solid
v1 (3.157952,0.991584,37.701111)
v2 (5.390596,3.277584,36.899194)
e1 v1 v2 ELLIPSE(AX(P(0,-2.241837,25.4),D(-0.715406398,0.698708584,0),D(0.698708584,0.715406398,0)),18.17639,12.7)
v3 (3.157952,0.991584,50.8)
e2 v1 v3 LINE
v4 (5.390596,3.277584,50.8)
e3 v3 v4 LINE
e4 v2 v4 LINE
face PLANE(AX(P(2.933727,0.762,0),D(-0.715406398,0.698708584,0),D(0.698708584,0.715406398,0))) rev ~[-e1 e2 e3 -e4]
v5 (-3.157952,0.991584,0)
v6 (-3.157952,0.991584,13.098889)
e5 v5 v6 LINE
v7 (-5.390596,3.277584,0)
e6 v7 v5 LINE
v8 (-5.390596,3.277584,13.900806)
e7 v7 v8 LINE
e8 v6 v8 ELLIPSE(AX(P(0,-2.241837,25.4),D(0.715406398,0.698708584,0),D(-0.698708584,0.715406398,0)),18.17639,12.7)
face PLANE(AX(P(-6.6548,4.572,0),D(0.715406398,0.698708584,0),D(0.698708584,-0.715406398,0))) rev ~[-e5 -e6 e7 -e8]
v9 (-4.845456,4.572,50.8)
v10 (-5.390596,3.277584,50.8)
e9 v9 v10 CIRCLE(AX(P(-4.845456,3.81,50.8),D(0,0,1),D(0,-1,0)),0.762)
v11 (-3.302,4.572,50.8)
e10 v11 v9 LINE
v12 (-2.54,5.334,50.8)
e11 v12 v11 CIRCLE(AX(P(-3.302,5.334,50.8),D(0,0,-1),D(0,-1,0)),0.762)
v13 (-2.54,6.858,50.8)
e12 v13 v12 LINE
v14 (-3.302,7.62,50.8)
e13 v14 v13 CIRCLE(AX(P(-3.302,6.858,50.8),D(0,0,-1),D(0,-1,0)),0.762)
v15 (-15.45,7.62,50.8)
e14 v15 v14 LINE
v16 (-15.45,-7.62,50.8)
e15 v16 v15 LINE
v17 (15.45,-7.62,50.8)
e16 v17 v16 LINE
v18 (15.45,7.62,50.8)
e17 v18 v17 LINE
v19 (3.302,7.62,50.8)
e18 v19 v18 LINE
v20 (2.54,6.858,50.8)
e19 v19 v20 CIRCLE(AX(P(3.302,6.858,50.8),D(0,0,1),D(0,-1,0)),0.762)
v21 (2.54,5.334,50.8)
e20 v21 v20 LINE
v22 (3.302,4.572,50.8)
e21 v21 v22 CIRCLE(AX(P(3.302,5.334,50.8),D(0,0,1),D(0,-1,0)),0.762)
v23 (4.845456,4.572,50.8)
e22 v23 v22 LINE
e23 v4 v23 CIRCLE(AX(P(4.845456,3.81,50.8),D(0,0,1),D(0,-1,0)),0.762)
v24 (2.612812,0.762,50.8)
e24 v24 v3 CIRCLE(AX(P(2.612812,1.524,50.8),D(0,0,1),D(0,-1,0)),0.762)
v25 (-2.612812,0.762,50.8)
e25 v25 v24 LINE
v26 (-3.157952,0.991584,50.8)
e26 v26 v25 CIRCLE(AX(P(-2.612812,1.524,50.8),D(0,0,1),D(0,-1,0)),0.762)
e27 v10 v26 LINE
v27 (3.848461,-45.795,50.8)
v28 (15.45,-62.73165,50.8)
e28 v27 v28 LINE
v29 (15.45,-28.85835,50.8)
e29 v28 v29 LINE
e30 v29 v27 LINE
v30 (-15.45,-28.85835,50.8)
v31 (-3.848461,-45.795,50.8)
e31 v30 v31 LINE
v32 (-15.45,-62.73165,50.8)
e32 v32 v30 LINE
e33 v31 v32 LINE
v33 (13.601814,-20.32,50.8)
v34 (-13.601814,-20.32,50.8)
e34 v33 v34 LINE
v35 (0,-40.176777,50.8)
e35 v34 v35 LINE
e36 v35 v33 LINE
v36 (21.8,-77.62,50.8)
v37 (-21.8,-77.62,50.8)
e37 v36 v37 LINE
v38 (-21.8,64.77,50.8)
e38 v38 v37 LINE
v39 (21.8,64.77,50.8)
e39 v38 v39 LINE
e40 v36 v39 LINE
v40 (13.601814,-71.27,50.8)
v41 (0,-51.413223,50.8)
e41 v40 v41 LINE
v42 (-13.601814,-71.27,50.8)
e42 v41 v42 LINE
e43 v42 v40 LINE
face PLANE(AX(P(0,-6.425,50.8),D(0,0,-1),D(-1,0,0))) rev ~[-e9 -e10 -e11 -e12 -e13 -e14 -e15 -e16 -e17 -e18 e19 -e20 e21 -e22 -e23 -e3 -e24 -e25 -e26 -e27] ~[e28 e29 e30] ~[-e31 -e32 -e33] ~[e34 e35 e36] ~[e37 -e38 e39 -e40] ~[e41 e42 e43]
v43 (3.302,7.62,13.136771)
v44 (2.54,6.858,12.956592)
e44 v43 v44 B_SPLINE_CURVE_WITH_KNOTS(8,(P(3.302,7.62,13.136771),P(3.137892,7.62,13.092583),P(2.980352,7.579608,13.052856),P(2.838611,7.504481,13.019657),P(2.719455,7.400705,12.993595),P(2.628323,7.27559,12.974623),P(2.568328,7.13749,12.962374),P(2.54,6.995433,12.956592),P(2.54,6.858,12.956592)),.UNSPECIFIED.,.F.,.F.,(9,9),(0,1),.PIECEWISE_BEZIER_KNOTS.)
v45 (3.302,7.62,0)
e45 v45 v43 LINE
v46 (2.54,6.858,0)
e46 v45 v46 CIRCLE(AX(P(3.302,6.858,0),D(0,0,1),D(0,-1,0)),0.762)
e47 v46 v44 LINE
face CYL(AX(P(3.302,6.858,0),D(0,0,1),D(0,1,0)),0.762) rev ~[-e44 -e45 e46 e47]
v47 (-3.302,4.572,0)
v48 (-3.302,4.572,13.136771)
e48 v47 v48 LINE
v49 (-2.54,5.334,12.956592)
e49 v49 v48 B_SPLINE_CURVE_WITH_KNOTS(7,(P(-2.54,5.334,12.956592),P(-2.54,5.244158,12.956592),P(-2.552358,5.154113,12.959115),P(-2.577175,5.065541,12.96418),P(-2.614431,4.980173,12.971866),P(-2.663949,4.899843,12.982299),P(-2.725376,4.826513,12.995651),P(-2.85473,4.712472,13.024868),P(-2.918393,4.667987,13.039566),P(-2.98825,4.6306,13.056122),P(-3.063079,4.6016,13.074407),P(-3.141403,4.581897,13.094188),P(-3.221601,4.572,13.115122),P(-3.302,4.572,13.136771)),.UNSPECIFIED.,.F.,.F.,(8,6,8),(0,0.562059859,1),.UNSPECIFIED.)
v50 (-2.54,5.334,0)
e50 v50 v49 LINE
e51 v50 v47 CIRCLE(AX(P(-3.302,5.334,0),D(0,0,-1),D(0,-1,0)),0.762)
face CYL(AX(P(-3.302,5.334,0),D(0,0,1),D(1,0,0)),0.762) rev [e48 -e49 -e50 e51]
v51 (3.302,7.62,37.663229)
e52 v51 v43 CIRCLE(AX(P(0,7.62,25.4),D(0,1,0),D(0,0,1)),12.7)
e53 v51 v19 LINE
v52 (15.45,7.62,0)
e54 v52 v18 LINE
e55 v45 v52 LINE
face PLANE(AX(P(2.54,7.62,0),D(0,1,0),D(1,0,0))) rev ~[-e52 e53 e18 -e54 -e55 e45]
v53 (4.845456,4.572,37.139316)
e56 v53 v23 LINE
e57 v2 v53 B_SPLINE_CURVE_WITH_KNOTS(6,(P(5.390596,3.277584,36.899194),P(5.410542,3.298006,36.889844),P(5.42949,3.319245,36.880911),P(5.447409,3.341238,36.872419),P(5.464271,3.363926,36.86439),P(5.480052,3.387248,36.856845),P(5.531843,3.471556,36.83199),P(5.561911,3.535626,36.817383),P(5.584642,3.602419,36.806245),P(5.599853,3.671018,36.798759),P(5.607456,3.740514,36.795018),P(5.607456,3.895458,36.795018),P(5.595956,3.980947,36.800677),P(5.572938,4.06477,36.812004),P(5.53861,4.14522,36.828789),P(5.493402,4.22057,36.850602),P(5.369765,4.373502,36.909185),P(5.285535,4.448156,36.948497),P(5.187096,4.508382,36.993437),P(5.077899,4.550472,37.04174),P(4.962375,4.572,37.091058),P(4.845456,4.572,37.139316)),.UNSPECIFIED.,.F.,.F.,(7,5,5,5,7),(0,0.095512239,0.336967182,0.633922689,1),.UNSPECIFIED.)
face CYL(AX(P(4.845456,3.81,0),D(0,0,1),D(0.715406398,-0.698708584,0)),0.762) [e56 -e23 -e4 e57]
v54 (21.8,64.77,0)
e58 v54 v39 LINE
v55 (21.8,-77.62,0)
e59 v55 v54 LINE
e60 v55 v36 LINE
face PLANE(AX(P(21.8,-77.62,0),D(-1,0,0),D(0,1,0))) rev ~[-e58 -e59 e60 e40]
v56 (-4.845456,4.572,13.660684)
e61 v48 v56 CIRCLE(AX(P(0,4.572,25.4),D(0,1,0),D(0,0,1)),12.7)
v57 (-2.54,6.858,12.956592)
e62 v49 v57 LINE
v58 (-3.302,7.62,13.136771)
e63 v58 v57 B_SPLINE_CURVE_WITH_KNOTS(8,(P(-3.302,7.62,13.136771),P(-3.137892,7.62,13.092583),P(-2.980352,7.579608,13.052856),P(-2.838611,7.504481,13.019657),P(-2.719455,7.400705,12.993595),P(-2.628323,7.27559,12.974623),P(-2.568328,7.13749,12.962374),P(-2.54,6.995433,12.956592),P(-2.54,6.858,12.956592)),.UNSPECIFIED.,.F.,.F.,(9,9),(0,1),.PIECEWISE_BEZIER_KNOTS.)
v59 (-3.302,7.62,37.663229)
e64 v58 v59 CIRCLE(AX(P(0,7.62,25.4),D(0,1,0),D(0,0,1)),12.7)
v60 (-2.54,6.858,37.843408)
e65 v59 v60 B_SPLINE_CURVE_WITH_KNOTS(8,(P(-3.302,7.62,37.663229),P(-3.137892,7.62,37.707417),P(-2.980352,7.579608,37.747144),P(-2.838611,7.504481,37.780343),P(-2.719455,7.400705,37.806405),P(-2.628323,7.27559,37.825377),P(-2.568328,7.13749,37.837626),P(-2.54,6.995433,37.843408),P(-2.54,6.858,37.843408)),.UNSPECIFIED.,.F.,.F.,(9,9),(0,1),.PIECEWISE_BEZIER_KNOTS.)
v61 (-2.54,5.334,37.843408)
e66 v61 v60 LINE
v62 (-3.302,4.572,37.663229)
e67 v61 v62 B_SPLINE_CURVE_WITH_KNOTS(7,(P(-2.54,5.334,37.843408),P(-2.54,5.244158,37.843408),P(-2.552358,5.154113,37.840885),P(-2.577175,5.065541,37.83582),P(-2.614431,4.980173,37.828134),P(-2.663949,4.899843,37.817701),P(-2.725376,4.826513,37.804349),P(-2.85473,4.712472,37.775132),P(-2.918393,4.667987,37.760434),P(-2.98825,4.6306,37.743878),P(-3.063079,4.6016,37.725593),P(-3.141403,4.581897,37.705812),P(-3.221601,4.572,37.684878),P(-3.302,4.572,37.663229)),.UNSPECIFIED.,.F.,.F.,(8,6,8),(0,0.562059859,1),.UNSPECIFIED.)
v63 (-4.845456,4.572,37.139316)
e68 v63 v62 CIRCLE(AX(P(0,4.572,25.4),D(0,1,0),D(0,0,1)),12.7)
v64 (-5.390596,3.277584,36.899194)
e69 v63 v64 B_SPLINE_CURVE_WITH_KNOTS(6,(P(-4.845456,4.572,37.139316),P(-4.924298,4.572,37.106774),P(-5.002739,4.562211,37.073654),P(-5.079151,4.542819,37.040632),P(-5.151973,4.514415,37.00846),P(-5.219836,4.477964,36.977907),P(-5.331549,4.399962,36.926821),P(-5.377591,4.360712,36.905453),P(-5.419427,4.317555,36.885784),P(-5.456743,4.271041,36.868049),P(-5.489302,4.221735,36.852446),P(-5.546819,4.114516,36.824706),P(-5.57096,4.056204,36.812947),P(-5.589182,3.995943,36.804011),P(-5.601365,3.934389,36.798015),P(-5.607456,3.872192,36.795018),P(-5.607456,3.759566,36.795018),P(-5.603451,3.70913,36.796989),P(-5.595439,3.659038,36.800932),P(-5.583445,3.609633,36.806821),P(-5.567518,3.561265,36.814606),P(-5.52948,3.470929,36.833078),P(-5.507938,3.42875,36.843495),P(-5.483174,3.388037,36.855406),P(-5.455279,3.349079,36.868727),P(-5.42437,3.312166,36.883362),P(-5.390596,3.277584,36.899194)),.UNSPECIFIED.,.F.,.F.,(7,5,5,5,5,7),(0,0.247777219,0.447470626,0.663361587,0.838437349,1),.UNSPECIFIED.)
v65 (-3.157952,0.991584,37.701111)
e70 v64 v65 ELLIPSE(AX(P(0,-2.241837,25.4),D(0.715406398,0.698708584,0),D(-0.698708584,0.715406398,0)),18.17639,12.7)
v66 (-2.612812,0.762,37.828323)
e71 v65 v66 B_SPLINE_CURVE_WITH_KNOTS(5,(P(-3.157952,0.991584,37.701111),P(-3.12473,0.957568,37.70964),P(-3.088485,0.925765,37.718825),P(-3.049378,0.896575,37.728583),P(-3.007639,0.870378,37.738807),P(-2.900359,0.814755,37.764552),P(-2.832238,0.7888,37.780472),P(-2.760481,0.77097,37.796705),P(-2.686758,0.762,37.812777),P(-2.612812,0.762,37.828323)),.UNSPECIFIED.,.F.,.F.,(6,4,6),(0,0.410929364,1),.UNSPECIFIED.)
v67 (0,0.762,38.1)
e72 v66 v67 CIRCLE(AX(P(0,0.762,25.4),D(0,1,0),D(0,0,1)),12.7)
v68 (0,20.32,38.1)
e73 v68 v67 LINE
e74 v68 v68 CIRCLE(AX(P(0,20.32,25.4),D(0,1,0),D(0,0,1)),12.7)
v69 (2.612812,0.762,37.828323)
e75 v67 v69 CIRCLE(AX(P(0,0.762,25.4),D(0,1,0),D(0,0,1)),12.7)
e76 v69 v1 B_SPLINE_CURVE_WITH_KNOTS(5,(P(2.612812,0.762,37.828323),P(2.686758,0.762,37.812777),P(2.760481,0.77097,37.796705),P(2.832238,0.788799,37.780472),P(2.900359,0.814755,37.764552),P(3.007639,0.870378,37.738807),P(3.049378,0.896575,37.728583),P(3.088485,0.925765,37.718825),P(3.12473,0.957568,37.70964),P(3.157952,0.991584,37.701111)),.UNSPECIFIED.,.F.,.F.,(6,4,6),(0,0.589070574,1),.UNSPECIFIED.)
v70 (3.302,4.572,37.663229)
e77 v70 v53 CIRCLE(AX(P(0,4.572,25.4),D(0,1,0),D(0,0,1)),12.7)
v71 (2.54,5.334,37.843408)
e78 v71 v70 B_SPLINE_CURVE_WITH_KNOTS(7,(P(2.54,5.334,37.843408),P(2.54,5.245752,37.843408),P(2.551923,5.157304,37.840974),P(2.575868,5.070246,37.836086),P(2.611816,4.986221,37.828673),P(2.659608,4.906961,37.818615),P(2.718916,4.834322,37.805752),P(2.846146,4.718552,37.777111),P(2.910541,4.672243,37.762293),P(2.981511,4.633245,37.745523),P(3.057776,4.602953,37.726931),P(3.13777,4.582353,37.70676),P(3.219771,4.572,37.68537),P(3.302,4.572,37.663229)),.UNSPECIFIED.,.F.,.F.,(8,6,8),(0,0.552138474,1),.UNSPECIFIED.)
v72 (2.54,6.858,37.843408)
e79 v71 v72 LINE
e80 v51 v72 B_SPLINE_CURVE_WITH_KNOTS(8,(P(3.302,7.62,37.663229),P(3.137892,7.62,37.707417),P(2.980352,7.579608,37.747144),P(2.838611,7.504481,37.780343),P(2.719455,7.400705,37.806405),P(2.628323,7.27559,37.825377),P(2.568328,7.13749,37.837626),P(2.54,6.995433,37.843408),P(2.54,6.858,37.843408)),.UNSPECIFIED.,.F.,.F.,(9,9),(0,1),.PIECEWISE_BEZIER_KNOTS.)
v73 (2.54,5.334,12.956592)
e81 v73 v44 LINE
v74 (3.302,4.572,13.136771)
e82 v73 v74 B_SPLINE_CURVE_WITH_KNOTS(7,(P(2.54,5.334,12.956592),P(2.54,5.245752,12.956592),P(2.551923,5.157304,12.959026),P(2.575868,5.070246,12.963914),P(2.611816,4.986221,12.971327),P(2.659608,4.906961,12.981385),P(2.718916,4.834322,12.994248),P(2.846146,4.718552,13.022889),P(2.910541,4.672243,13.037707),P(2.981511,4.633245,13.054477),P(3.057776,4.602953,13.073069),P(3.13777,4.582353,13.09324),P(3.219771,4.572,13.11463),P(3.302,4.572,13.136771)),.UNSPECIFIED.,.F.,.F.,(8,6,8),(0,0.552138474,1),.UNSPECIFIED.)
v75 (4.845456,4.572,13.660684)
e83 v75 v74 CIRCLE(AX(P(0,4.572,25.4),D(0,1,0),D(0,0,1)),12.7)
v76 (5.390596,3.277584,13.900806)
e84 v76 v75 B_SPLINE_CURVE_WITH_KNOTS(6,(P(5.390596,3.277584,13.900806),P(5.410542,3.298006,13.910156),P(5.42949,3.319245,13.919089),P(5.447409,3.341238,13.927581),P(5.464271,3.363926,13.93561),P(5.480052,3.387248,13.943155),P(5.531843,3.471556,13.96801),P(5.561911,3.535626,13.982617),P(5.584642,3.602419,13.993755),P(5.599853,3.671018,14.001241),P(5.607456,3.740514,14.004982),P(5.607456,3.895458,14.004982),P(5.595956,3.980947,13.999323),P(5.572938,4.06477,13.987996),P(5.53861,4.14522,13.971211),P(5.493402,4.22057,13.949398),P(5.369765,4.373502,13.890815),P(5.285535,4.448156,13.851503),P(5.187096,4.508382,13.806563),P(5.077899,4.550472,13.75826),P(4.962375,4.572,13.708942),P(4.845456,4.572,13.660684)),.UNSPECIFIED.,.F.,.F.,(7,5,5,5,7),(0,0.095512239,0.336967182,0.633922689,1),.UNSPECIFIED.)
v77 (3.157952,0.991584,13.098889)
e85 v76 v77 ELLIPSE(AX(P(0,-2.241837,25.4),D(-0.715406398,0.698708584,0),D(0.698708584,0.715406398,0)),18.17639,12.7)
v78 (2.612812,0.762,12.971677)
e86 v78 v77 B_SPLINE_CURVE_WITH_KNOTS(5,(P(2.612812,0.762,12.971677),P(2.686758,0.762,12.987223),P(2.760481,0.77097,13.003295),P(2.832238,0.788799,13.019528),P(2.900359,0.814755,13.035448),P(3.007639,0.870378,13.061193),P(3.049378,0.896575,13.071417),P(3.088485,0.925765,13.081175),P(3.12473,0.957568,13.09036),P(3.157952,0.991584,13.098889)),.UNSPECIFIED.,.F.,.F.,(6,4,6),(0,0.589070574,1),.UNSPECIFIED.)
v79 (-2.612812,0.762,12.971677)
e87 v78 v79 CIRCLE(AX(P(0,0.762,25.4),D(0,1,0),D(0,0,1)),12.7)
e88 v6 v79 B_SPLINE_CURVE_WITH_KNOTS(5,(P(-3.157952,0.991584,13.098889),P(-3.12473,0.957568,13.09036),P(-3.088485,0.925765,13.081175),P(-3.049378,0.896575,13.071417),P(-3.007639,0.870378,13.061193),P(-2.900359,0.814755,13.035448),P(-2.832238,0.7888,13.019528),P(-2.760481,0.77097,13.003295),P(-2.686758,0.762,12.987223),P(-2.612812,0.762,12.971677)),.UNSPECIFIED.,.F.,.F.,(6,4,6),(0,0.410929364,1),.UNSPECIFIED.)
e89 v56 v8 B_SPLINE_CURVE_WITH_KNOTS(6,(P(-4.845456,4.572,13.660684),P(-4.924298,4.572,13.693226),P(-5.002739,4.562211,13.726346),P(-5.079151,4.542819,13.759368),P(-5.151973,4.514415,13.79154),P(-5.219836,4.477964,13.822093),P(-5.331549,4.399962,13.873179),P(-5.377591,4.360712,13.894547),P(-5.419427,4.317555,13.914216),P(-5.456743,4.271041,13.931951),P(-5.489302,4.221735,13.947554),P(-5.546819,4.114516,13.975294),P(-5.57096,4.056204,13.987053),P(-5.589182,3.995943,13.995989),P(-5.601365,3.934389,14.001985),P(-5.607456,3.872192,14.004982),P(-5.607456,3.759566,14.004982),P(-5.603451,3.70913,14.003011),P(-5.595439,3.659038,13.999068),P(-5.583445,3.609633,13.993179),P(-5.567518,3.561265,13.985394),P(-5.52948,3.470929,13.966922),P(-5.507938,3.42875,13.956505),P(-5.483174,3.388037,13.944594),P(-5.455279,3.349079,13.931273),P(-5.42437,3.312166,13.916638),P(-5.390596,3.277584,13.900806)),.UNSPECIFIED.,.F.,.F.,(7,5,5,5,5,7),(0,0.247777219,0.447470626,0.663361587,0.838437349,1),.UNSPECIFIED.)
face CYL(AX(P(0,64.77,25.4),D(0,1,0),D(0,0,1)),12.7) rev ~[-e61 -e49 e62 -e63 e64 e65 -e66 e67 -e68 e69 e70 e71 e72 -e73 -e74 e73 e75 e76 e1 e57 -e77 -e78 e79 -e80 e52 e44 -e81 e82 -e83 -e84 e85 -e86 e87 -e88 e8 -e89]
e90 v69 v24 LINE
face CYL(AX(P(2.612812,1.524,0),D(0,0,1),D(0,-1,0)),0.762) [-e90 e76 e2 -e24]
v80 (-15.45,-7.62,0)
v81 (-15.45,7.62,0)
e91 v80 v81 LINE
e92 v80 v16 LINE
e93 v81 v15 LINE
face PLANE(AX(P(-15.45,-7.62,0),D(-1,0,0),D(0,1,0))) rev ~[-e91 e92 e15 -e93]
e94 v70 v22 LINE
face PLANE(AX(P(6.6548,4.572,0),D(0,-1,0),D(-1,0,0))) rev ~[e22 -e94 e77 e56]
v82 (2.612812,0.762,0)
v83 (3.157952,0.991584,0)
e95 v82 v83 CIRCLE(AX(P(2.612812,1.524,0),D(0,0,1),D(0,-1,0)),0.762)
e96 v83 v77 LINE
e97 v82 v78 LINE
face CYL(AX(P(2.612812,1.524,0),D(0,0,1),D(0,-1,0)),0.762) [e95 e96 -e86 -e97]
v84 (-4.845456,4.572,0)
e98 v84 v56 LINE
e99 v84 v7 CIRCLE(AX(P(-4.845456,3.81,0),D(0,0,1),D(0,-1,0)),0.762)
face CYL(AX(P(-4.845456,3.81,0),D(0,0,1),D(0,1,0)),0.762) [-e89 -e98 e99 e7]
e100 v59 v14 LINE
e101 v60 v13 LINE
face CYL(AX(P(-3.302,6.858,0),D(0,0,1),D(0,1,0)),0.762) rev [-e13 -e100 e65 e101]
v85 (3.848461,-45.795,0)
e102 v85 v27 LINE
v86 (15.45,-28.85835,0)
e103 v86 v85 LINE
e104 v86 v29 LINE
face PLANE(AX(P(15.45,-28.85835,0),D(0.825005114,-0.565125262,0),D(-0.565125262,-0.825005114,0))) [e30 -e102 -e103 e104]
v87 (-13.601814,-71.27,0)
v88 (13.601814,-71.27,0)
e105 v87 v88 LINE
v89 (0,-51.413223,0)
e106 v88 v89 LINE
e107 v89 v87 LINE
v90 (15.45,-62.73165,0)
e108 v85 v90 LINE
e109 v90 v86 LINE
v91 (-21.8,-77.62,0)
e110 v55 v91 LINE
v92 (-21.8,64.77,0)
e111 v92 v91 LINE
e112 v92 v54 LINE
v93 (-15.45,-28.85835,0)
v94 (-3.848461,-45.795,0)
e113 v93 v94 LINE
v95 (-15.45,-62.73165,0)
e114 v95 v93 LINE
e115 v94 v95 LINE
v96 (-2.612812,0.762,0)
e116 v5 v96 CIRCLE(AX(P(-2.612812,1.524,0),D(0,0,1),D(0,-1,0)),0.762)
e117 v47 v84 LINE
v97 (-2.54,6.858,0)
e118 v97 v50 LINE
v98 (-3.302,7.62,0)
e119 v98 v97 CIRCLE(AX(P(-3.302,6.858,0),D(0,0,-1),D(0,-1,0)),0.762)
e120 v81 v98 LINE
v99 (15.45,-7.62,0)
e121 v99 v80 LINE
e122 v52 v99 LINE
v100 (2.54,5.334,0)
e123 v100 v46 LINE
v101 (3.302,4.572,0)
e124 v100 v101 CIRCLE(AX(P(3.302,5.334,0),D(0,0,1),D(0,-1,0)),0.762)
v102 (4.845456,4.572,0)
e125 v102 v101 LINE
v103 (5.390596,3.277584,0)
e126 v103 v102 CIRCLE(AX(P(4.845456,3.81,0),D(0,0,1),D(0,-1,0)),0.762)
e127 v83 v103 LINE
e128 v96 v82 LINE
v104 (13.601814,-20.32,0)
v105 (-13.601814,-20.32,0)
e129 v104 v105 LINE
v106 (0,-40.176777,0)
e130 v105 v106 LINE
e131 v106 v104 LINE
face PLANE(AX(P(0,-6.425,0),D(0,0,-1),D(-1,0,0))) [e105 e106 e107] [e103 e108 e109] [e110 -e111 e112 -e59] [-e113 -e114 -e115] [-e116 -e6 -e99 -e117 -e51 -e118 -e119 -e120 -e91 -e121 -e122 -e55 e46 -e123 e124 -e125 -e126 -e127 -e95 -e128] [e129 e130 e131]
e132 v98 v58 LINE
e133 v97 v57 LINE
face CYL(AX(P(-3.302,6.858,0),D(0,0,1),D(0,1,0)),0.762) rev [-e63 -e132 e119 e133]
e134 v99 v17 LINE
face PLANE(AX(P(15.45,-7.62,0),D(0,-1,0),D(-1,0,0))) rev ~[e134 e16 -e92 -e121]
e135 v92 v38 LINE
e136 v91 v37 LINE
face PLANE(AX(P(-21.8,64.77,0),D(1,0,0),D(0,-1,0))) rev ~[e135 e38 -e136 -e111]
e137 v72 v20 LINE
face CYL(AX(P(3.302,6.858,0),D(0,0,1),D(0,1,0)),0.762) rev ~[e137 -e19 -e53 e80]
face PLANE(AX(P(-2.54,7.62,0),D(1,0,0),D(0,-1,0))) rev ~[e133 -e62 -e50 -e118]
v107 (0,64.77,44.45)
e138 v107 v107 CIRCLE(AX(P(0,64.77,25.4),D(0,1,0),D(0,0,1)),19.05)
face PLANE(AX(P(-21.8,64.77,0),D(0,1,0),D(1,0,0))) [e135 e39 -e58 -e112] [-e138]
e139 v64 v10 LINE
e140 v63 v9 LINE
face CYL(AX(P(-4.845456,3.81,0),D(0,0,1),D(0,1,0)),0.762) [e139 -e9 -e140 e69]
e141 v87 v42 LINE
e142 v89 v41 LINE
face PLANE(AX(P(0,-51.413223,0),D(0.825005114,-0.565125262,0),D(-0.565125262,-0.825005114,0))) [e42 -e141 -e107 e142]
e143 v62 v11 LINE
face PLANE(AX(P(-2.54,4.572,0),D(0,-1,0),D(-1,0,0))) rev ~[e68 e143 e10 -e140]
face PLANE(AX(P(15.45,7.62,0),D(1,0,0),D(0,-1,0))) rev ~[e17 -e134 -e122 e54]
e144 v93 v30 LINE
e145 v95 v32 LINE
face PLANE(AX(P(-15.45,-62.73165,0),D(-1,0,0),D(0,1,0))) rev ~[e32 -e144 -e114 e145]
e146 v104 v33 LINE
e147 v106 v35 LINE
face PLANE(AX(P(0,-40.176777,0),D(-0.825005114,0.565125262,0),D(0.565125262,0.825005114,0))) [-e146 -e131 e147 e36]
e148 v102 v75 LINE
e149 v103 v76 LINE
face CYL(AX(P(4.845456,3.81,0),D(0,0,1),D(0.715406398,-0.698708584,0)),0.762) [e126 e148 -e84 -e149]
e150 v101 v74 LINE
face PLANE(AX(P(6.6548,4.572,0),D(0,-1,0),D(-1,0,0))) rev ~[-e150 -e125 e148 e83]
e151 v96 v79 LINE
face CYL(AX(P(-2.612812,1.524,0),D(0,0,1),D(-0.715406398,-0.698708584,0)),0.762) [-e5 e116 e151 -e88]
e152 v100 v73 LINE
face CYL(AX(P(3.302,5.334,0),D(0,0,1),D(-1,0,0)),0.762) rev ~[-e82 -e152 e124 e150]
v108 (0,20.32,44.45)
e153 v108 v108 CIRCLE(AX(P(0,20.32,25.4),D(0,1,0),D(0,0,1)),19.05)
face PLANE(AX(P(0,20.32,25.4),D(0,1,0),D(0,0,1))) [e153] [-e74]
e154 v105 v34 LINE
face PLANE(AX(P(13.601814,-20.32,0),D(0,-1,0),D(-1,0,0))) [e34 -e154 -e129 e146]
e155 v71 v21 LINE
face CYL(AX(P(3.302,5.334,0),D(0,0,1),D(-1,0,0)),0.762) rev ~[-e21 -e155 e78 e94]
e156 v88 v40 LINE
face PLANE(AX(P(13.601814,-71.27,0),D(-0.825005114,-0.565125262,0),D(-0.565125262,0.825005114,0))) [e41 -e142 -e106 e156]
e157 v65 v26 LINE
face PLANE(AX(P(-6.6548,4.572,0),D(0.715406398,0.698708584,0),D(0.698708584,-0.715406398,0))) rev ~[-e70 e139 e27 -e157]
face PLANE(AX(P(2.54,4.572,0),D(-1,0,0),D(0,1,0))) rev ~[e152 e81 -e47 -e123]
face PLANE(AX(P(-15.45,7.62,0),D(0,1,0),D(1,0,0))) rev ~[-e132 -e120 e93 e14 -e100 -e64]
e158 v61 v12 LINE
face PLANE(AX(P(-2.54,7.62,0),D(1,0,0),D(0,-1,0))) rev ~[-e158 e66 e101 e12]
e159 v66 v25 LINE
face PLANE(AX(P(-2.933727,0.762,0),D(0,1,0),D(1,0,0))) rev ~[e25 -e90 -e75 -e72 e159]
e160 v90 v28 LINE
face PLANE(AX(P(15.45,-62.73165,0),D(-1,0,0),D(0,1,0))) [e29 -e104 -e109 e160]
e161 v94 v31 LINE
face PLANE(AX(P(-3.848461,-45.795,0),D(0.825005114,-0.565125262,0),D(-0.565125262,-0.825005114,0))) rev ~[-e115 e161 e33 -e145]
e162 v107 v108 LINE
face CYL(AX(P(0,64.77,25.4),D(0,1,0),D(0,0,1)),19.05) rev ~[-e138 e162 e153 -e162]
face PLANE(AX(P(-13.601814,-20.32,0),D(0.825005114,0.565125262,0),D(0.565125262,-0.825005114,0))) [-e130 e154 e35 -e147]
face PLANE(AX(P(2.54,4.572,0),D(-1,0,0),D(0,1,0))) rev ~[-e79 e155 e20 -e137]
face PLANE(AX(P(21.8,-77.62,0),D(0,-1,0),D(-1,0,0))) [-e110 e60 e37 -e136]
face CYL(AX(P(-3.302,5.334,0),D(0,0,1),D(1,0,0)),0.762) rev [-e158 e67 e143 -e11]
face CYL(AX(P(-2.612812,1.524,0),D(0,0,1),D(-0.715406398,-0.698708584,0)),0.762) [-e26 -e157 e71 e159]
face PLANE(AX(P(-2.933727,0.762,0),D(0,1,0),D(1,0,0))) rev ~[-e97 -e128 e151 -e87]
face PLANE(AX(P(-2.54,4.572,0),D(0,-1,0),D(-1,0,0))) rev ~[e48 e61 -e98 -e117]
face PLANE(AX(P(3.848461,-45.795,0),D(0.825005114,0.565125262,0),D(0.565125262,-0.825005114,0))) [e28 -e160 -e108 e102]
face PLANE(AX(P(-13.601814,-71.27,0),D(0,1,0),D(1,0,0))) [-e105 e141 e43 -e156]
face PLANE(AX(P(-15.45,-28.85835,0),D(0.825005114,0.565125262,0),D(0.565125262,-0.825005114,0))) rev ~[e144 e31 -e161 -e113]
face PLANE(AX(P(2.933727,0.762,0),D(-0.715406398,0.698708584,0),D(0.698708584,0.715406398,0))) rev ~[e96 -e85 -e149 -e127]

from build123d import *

# Parameters (mm, degrees)
BOSS_EXTRUDE1_DEPTH = 50.8
FILLET1_R           = 0.762
SKETCH2_R           = 19.05
CUT_EXTRUDE1_DEPTH  = 44.45
SKETCH3_R           = 12.7
CUT_EXTRUDE2_DEPTH  = 66.04


with BuildPart() as part:
    # Sketch1 → Boss-Extrude1 (new body)
    with BuildSketch(Plane.XY):
        Polygon((-21.799999961, -13.97), (-21.799999961, 13.97), (-21.799999961, 64.77), (21.799999961, 64.77), (21.799999961, 13.97), (21.799999961, -13.97), (21.799999961, -77.619999954), (-21.799999961, -77.619999954), align=None)
        Polygon((-15.449999961, 7.62), (-2.54, 7.62), (-2.54, 4.572), (-6.6548, 4.572), (-2.933726616, 0.762), (2.933726616, 0.762), (6.6548, 4.572), (2.54, 4.572), (2.54, 7.62), (15.449999961, 7.62), (15.449999961, -7.62), (-15.449999961, -7.62), align=None, mode=Mode.SUBTRACT)
        Polygon((-13.601813914, -20.32), (0, -40.176776526), (13.601813914, -20.32), align=None, mode=Mode.SUBTRACT)
        Polygon((15.449999961, -28.858349607), (3.848460993, -45.794999977), (15.449999961, -62.731650347), align=None, mode=Mode.SUBTRACT)
        Polygon((-3.848460993, -45.794999977), (-15.449999961, -62.731650347), (-15.449999961, -28.858349607), align=None, mode=Mode.SUBTRACT)
        Polygon((0, -51.413223428), (-13.601813914, -71.269999954), (13.601813914, -71.269999954), align=None, mode=Mode.SUBTRACT)
    extrude(amount=BOSS_EXTRUDE1_DEPTH)

    # Fillet1
    fillet1_edges = [part.edges().sort_by_distance(p)[0] for p in [
        (2.54, 7.62, 25.4),
        (2.54, 4.572, 25.4),
        (6.6548, 4.572, 25.4),
        (2.933726616, 0.762, 25.4),
        (-2.933726616, 0.762, 25.4),
        (-6.6548, 4.572, 25.4),
        (-2.54, 4.572, 25.4),
        (-2.54, 7.62, 25.4),
    ]]
    fillet(fillet1_edges, radius=FILLET1_R)

    # Sketch2 → Cut-Extrude1 (cut)
    with BuildSketch(Plane(origin=(0, 64.77, 0), x_dir=(1, 0, 0), z_dir=(0, 1, 0))):
        with Locations(Location((0, -25.4, 0), (0, 0, 270))):
            Circle(SKETCH2_R)
    extrude(amount=-CUT_EXTRUDE1_DEPTH, mode=Mode.SUBTRACT)

    # Sketch3 → Cut-Extrude2 (cut)
    with BuildSketch(Plane(origin=(0, 64.77, 0), x_dir=(1, 0, 0), z_dir=(0, 1, 0))):
        with Locations(Location((0, -25.4, 0), (0, 0, 270))):
            Circle(SKETCH3_R)
    extrude(amount=-CUT_EXTRUDE2_DEPTH, mode=Mode.SUBTRACT)


solid = part.part
